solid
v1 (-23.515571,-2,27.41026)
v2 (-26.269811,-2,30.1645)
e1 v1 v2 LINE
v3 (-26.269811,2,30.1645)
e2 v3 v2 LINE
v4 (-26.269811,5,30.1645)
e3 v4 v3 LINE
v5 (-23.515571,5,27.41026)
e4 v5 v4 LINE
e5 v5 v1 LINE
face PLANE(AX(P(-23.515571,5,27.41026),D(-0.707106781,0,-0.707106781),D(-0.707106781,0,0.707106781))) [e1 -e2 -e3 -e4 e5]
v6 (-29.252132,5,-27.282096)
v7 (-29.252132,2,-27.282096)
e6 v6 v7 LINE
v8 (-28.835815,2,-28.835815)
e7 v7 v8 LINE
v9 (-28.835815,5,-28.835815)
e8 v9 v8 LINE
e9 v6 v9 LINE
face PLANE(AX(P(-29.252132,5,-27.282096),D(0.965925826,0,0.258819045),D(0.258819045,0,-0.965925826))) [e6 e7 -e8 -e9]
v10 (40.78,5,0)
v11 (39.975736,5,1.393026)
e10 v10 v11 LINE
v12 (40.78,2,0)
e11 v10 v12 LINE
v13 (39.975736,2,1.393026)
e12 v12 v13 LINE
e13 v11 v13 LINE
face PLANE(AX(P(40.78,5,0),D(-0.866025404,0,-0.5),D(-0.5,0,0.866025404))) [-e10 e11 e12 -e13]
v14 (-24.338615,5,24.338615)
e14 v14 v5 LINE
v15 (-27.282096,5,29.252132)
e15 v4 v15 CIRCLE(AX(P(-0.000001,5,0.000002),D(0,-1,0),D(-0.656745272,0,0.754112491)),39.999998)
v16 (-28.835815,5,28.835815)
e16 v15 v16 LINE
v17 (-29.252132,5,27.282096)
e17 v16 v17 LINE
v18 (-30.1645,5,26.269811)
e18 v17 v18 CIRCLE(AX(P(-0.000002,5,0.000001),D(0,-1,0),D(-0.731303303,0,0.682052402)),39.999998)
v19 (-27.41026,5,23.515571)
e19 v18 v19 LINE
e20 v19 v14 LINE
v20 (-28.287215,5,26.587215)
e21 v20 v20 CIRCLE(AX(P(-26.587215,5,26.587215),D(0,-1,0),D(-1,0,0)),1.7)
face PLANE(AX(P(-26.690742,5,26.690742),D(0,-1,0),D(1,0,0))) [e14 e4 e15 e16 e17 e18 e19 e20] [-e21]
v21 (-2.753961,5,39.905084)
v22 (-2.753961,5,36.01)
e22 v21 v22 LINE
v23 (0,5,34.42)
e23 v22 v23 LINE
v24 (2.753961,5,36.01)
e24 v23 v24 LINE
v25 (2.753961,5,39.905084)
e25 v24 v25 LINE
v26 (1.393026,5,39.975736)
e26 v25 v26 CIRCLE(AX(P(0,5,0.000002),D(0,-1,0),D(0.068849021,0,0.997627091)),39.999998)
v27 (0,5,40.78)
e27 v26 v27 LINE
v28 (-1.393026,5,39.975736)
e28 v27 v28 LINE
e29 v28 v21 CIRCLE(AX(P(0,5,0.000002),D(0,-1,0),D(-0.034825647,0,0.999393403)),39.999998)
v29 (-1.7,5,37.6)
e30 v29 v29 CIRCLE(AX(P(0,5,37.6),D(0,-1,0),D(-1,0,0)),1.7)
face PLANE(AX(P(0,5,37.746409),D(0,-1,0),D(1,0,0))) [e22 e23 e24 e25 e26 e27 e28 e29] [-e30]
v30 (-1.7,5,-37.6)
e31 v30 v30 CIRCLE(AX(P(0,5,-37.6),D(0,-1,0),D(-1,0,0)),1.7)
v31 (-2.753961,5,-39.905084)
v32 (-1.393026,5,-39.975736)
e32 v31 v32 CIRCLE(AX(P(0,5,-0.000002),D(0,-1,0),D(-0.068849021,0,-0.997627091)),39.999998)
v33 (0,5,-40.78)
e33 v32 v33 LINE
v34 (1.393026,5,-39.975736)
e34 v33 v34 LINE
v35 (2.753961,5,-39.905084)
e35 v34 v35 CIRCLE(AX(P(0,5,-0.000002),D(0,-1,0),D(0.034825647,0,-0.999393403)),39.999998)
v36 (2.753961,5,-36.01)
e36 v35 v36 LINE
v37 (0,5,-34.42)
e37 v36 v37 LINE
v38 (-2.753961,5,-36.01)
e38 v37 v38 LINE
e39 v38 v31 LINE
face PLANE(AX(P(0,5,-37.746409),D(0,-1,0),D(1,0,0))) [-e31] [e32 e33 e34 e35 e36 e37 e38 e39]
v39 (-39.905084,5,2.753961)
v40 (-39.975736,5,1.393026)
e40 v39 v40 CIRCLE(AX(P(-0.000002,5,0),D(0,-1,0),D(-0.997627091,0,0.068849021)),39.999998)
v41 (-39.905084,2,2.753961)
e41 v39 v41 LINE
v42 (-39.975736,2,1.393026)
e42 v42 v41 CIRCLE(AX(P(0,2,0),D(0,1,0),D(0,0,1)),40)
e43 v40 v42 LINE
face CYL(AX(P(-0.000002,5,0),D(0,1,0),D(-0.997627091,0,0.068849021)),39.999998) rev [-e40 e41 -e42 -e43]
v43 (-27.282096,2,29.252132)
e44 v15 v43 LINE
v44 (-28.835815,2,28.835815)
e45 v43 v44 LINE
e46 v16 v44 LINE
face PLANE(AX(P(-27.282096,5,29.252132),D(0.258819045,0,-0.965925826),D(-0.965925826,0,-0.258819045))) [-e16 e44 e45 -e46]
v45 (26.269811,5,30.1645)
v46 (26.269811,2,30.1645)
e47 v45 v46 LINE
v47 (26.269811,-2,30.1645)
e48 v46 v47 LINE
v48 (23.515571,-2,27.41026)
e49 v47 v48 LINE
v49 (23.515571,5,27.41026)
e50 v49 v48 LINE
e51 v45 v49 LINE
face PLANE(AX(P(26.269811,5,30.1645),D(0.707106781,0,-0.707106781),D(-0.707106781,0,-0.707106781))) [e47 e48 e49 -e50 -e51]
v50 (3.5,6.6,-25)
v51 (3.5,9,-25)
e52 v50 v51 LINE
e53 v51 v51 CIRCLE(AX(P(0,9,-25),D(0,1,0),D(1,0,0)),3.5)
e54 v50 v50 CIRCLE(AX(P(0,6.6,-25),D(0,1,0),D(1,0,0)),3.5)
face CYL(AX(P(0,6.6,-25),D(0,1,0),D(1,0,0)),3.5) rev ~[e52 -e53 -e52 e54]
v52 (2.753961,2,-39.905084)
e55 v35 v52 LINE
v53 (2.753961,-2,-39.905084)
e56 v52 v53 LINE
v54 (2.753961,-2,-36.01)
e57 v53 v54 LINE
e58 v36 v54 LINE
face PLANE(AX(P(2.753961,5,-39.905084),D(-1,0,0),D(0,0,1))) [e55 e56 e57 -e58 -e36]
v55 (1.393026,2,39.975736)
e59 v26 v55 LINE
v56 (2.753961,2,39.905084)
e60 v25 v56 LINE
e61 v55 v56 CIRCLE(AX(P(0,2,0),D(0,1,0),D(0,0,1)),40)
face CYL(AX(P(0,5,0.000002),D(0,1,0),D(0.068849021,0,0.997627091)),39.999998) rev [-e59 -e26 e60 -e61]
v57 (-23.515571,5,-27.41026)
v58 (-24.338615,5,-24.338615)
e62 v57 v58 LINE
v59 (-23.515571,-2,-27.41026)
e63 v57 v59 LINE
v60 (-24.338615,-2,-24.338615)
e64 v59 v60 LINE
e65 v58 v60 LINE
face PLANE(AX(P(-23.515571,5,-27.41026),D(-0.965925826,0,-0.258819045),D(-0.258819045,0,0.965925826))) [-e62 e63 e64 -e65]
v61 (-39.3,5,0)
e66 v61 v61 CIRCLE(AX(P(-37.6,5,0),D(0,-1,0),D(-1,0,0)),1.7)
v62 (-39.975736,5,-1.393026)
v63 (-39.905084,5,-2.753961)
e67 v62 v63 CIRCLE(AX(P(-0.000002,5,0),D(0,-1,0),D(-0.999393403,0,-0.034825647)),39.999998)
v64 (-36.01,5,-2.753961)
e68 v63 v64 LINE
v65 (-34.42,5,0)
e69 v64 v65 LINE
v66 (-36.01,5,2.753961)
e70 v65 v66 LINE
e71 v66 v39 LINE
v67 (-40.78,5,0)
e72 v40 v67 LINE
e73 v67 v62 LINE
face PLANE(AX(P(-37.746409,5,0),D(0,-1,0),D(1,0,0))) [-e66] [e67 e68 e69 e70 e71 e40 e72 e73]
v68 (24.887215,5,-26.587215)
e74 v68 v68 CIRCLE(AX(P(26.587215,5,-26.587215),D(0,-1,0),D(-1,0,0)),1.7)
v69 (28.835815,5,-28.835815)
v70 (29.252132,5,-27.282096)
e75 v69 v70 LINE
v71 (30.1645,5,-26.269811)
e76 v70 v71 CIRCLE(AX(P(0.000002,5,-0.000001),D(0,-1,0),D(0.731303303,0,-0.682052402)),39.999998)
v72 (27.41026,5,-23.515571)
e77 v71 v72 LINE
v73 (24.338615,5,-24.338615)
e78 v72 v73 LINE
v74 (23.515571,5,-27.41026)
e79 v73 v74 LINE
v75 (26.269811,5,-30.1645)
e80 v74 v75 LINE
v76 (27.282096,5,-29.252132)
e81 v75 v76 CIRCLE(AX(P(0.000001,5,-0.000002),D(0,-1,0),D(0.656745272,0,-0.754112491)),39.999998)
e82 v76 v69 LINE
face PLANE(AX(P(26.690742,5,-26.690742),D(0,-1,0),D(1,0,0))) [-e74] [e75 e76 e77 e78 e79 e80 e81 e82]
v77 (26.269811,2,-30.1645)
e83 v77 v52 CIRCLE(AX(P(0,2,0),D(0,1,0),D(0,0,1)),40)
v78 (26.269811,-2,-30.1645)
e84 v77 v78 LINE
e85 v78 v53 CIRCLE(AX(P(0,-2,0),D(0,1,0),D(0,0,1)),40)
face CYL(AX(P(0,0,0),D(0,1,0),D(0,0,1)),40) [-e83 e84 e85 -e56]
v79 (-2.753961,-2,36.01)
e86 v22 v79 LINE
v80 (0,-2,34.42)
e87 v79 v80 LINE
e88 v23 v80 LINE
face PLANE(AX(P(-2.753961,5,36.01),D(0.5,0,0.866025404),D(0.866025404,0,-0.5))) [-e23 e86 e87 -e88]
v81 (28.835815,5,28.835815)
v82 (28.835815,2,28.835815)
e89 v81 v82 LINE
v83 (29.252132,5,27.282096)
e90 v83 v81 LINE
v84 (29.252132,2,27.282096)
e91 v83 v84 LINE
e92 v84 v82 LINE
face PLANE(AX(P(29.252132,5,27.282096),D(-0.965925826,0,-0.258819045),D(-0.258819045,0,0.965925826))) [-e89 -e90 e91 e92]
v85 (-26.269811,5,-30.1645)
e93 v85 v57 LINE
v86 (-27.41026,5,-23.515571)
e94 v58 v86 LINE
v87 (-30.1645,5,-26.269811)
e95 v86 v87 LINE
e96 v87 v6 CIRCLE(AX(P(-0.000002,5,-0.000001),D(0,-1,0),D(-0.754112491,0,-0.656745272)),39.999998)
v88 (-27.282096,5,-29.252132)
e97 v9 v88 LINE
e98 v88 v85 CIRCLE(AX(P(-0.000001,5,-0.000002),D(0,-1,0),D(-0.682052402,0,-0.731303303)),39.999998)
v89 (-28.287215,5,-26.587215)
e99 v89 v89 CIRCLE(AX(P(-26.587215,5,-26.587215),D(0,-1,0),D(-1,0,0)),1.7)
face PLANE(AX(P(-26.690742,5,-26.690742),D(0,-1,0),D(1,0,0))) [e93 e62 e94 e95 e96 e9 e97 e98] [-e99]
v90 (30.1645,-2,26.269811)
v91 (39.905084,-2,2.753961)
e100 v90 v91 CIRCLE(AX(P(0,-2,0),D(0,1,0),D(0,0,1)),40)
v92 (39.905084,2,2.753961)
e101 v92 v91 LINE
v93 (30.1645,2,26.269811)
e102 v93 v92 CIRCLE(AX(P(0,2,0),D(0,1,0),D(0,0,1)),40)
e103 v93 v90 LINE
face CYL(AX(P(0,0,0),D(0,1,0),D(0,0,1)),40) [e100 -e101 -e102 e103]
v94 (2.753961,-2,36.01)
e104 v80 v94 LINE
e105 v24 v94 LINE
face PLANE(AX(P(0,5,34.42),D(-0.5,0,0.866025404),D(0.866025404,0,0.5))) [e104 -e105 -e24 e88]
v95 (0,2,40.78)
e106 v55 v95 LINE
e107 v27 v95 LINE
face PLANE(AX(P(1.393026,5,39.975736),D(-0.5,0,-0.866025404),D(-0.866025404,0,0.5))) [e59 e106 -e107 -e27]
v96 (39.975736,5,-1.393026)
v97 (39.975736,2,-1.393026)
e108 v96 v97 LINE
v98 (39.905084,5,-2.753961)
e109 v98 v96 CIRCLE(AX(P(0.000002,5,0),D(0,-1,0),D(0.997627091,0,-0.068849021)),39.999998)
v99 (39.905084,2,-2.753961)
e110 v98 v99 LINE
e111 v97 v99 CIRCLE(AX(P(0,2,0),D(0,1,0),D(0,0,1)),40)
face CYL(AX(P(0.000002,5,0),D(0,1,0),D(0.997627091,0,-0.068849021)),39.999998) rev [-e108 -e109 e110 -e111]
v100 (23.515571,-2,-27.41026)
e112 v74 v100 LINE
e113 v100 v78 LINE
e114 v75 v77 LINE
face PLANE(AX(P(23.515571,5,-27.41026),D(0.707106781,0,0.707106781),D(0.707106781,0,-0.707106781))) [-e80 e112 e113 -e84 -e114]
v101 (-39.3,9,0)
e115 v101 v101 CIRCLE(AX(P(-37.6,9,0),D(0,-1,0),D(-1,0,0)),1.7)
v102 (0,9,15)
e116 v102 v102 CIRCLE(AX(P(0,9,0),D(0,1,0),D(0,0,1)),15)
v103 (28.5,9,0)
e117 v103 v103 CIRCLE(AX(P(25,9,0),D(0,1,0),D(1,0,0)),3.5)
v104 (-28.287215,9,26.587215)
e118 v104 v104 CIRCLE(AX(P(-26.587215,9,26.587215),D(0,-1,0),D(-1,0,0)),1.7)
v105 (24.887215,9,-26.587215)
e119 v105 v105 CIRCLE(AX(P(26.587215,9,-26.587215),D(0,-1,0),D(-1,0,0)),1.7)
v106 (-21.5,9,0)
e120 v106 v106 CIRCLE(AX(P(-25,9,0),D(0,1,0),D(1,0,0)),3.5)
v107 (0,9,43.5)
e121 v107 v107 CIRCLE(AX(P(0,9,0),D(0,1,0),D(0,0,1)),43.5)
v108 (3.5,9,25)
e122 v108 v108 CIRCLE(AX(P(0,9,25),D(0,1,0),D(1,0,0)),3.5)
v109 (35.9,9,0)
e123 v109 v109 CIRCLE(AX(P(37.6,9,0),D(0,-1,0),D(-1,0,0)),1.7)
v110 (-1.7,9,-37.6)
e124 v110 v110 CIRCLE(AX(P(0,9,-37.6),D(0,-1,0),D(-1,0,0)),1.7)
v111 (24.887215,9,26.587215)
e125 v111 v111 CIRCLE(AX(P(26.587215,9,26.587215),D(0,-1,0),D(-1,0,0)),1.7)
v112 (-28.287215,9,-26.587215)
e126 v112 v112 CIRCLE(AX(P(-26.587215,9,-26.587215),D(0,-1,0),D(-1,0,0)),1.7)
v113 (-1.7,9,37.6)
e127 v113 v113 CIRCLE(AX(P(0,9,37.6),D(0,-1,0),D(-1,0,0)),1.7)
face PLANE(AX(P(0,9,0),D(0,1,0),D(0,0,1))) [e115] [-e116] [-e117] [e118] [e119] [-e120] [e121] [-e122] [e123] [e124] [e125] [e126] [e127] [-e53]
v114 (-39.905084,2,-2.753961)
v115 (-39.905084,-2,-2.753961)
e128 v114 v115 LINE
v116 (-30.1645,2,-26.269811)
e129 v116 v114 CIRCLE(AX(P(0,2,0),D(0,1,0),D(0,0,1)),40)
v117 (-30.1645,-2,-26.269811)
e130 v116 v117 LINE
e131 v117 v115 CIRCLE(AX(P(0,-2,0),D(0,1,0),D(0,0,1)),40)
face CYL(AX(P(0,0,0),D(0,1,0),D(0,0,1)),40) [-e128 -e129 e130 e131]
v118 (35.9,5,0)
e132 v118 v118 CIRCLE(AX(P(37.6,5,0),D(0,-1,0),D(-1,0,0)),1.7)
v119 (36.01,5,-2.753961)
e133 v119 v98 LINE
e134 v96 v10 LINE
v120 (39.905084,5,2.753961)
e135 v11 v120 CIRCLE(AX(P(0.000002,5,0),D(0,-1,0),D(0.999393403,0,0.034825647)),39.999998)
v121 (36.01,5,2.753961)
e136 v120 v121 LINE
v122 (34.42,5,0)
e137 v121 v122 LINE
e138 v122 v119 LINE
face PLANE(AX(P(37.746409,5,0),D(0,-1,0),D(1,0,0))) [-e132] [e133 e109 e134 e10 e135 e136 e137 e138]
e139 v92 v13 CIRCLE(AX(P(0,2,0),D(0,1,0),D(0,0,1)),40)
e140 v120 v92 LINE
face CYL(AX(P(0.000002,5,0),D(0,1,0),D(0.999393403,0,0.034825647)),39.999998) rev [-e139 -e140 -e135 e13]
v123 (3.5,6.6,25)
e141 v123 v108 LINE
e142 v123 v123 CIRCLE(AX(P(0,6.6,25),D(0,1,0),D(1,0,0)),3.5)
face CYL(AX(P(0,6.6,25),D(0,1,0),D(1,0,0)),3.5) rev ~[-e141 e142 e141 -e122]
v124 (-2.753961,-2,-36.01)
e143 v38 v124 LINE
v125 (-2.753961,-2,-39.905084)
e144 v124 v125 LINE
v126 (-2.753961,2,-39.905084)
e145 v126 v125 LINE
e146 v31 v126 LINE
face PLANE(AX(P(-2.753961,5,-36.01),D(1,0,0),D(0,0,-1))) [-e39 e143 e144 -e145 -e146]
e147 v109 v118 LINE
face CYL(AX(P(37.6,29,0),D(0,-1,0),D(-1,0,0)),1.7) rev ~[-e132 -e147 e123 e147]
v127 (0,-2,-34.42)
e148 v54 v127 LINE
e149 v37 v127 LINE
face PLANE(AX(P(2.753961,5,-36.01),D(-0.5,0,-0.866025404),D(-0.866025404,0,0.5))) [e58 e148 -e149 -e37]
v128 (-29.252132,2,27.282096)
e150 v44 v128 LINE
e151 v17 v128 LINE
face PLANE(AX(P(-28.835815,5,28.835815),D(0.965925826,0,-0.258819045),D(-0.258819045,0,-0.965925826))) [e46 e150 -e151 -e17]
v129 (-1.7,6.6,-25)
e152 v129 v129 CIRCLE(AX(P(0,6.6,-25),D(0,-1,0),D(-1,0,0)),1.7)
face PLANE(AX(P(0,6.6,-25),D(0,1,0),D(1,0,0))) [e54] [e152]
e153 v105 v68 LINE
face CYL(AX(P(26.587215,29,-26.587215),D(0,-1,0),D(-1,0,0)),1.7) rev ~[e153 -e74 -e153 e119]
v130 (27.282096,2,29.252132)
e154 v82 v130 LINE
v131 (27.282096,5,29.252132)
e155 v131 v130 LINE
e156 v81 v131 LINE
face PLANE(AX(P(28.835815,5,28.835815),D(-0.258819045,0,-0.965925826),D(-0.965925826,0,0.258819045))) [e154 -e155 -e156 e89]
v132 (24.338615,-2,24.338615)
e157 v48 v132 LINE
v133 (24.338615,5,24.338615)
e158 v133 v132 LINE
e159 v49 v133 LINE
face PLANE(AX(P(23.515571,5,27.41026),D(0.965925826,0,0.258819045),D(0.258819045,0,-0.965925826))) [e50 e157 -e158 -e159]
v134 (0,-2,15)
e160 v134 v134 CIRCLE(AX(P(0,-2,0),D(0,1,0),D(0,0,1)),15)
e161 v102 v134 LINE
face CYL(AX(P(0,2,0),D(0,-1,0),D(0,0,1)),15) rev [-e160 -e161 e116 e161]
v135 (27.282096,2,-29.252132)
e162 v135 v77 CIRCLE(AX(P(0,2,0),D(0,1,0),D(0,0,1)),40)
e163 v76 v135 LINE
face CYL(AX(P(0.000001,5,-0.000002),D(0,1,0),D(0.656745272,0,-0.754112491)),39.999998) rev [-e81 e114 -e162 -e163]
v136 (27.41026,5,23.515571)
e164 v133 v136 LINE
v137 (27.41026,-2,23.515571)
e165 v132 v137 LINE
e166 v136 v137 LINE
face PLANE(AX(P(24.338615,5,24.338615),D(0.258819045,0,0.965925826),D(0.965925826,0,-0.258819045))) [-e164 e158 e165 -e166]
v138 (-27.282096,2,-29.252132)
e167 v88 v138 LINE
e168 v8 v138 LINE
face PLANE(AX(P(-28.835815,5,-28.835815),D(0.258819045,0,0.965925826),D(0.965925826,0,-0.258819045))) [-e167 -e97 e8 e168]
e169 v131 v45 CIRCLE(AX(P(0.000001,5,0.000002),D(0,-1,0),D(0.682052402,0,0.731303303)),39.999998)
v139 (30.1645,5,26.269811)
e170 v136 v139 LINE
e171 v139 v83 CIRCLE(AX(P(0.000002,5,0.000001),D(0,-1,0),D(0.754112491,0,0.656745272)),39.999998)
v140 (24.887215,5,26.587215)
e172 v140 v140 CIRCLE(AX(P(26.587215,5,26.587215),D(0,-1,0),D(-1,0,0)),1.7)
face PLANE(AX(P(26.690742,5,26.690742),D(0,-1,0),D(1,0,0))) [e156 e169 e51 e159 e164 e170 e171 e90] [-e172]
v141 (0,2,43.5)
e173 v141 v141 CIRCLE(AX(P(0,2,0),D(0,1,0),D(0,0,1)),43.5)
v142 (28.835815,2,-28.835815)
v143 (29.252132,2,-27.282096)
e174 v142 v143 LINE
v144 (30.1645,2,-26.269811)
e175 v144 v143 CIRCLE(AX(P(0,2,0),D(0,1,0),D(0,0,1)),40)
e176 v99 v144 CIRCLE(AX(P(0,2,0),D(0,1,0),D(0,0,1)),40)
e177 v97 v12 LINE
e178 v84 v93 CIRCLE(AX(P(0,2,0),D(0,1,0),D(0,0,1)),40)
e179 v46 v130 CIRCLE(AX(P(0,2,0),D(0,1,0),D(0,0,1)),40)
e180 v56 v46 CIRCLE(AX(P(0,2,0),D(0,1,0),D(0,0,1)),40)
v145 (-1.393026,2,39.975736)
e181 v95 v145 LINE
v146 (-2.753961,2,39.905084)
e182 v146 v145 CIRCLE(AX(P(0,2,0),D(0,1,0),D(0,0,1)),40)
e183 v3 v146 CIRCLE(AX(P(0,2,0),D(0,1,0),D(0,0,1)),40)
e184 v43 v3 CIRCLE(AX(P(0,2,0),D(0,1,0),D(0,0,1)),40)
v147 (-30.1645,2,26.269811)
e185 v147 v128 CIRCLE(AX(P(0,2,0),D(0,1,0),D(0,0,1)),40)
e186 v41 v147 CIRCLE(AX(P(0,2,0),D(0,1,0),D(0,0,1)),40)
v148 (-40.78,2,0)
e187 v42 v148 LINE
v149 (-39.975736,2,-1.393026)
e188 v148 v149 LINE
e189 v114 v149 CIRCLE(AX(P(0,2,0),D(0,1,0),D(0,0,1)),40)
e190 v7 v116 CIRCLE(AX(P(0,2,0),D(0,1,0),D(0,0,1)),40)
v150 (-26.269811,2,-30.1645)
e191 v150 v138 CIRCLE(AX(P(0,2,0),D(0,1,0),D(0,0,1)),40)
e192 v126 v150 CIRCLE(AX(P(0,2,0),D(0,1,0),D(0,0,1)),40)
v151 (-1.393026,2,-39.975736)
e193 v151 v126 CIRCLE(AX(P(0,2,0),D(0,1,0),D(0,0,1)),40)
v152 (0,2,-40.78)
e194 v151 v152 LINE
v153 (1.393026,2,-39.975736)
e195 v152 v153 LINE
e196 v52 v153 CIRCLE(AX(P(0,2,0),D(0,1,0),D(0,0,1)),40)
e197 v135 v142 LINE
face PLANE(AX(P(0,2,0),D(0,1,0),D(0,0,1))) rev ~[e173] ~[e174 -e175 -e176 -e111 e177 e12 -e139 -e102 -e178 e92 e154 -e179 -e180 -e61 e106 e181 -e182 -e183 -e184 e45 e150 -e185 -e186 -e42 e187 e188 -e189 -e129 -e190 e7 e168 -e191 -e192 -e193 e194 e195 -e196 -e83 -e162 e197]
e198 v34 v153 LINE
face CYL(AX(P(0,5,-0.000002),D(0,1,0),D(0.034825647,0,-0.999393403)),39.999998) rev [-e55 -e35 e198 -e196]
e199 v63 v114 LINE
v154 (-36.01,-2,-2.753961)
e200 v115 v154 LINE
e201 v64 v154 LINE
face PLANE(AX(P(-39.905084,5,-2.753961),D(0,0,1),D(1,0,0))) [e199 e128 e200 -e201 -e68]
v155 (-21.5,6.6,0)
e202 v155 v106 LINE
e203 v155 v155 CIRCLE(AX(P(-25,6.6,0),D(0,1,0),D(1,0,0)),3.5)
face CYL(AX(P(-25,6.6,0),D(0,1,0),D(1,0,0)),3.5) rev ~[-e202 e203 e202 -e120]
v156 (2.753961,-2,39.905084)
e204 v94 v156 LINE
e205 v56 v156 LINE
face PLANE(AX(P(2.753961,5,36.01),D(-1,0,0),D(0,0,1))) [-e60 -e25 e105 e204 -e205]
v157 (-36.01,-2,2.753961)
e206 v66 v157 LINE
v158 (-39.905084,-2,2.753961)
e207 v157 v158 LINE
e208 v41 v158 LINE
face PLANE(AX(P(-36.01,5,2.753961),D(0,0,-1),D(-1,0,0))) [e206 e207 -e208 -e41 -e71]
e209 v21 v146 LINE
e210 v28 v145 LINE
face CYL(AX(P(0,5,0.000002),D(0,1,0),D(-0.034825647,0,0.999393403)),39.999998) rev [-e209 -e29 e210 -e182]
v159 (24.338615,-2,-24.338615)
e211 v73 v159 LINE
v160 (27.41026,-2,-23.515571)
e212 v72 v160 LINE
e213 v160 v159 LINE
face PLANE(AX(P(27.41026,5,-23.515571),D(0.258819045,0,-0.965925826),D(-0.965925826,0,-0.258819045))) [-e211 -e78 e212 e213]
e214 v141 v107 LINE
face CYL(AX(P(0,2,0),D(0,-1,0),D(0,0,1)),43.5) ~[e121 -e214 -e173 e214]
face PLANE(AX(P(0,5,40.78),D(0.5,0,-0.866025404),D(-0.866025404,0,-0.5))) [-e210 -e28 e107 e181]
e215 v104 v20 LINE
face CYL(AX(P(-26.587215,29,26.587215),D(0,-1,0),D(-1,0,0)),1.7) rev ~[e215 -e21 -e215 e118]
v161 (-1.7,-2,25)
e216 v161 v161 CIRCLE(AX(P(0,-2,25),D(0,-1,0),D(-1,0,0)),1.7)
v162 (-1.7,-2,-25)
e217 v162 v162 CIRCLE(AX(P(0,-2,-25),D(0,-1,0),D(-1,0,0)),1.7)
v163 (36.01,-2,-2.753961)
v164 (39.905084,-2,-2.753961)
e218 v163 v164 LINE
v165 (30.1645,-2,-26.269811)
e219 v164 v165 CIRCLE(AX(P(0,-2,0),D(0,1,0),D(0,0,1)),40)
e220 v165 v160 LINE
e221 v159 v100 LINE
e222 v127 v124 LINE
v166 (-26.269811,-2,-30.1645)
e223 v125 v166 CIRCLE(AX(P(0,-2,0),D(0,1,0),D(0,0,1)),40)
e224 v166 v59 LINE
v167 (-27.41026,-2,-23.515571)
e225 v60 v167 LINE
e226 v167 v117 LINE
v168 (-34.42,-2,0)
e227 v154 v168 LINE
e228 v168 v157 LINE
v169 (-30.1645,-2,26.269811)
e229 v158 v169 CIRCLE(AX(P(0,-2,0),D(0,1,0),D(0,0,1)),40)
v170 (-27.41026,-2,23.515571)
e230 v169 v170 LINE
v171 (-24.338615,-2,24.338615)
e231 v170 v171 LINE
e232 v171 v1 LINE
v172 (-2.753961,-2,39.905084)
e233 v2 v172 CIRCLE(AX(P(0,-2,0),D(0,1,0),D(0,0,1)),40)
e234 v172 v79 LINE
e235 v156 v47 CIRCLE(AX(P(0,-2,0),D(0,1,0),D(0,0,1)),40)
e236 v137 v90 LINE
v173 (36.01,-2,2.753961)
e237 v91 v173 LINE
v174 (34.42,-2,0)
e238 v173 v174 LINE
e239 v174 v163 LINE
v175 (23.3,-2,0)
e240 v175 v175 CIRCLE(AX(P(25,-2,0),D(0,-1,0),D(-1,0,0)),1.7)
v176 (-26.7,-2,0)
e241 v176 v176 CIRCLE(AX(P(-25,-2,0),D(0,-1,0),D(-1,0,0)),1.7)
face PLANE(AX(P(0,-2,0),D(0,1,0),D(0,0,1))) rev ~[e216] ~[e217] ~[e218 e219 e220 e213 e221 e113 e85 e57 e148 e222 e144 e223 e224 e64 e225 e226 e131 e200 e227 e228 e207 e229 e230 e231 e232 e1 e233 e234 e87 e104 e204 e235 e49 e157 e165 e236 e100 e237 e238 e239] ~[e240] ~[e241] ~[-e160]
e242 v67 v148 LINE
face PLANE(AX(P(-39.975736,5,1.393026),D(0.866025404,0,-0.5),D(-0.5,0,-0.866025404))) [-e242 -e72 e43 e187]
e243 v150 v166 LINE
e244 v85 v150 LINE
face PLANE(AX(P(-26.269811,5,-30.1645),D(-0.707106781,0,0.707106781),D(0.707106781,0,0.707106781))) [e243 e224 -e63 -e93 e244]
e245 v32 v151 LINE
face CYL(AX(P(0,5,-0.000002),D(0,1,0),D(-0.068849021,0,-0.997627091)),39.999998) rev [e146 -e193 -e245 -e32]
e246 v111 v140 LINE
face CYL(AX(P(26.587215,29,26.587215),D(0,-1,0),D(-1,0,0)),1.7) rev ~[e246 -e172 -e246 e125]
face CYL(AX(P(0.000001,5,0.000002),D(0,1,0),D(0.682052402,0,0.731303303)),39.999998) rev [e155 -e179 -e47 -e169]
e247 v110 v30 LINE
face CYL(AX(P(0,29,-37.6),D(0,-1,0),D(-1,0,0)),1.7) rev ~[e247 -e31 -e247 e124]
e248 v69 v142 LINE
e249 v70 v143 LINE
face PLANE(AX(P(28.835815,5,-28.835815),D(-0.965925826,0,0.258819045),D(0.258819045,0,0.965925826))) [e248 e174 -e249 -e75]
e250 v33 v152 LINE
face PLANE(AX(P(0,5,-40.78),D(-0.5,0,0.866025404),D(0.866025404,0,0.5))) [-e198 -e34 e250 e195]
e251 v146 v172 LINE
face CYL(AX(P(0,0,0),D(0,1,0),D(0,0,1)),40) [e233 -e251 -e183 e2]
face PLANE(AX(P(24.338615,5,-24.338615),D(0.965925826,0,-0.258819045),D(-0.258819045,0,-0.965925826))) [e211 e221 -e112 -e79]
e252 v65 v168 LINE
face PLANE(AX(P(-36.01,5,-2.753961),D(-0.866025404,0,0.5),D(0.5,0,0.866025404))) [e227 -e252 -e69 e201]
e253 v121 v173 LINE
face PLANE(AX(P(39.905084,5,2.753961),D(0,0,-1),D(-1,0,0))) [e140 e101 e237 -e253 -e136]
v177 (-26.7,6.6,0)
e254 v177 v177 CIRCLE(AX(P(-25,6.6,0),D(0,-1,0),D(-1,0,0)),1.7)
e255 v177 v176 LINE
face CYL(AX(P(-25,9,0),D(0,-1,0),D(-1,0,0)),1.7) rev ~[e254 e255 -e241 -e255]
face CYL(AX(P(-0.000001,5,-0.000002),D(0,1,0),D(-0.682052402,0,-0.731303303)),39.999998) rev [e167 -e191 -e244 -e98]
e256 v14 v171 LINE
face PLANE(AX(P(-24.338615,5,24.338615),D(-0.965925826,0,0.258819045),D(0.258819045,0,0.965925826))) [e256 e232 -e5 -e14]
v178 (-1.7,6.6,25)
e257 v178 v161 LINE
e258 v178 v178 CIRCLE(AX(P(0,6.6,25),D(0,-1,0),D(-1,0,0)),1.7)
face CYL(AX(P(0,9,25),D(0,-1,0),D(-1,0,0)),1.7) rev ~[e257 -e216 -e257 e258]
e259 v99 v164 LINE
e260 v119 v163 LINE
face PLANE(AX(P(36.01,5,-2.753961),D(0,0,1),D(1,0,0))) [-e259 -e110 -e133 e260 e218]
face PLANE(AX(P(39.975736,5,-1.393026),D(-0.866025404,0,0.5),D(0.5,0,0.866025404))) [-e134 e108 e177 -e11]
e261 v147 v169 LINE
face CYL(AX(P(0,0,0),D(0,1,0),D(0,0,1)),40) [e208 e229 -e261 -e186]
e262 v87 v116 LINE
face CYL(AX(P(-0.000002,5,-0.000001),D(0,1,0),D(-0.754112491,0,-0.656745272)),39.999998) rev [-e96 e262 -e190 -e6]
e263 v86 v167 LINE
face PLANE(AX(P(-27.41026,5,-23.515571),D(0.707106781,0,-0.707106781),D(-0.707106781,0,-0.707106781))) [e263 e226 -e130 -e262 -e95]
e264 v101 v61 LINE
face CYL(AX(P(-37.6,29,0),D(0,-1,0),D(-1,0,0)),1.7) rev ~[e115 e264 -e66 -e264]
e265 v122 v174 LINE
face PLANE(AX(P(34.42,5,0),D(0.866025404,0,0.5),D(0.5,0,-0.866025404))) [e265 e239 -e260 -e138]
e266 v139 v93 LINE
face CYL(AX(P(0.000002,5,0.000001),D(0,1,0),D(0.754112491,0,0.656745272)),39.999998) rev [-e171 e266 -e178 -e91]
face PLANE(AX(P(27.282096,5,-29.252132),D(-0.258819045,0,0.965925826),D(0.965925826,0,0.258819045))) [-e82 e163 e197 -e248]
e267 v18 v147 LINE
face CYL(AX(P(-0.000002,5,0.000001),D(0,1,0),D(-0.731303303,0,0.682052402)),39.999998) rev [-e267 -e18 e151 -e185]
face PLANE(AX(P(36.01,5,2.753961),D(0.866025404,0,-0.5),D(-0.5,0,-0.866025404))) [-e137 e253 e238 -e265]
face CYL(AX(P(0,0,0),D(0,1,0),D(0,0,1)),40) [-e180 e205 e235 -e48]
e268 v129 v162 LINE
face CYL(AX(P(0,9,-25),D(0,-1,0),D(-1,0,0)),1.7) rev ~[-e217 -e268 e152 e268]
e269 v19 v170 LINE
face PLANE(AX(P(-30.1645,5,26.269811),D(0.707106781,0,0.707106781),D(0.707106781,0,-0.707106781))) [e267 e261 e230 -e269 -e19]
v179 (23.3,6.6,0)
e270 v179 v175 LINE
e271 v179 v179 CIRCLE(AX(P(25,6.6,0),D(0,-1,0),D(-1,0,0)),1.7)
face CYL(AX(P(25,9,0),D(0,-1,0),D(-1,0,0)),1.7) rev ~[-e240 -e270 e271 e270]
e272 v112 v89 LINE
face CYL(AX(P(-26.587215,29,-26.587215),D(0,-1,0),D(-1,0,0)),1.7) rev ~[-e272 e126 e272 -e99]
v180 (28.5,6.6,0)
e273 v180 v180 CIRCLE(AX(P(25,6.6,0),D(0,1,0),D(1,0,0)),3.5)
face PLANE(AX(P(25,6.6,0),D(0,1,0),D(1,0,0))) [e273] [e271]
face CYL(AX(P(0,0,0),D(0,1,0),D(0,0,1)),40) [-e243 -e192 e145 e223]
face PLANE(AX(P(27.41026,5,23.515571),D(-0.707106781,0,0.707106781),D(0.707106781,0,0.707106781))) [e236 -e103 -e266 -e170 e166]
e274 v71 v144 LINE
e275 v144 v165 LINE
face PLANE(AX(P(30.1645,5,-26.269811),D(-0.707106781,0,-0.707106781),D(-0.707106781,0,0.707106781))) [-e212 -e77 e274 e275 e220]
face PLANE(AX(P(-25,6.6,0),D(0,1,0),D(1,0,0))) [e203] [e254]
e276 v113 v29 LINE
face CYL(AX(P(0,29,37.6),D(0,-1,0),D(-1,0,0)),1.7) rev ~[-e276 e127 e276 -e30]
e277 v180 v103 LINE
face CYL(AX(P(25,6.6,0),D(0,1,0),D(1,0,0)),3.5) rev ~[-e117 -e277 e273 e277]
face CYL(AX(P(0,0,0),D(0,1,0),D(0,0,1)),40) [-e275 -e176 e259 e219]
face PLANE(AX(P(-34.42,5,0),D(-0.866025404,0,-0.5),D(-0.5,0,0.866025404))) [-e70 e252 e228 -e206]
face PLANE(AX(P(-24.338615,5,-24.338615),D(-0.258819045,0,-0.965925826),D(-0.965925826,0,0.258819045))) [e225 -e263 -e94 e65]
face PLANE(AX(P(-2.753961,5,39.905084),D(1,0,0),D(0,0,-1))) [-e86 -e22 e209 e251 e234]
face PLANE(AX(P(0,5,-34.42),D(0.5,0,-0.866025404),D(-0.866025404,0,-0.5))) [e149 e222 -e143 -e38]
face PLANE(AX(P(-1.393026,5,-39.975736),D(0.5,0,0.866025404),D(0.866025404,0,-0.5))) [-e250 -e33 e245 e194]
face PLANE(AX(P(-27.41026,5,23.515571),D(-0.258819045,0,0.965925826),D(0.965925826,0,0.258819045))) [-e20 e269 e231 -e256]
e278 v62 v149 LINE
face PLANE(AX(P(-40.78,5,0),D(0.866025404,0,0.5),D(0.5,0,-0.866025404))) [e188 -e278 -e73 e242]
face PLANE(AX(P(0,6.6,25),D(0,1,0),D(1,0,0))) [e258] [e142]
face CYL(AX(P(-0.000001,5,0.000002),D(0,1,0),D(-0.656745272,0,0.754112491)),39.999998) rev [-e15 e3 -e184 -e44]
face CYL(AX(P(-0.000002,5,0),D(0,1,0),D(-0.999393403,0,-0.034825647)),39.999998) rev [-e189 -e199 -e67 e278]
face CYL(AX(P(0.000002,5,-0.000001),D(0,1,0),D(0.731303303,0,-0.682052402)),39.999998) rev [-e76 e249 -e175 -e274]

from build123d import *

# Parameters (mm, degrees)
CROQUIS1_R                                           = 40
CROQUIS1_R_2                                         = 15
SALIENTE_EXTRUIR1_DEPTH                              = 2
CROQUIS2_R                                           = 43.5
CROQUIS2_R_2                                         = 15
SALIENTE_EXTRUIR2_DEPTH                              = 7
TALADRO_DE_MARGEN_PARA_M31_D                         = 3.4
TALADRO_DE_MARGEN_PARA_M31_DEPTH                     = 20
TALADRO_DE_MARGEN_PARA_M31_TIP                       = 1.021463052
CORTAR_EXTRUIR1_START                                = -7
CORTAR_EXTRUIR1_DEPTH                                = 7
REFRENTADO_PARA_TORNILLO_CON_CABEZA_TRON_D           = 3.4
REFRENTADO_PARA_TORNILLO_CON_CABEZA_TRON_DEPTH       = 20
REFRENTADO_PARA_TORNILLO_CON_CABEZA_TRON_CBORE_D     = 7
REFRENTADO_PARA_TORNILLO_CON_CABEZA_TRON_CBORE_DEPTH = 2.4
REFRENTADO_PARA_TORNILLO_CON_CABEZA_TRON_TIP         = 1.021463052


with BuildPart() as part:
    # Croquis1 → Saliente-Extruir1 (new, symmetric)
    with BuildSketch(Plane(origin=(0, 0, 0), x_dir=(1, 0, 0), z_dir=(0, 1, 0))):
        with Locations(Location((0, 0, 0), (0, 0, 270))):
            Circle(CROQUIS1_R)
        with Locations(Location((0, 0, 0), (0, 0, 270))):
            Circle(CROQUIS1_R_2, mode=Mode.SUBTRACT)
    extrude(amount=SALIENTE_EXTRUIR1_DEPTH, both=True)

    # Croquis2 → Saliente-Extruir2 (add)
    with BuildSketch(Plane(origin=(0, 2, 0), x_dir=(1, 0, 0), z_dir=(0, 1, 0))):
        with Locations(Location((0, 0, 0), (0, 0, 270))):
            Circle(CROQUIS2_R)
        with Locations(Location((0, 0, 0), (0, 0, 270))):
            Circle(CROQUIS2_R_2, mode=Mode.SUBTRACT)
    extrude(amount=SALIENTE_EXTRUIR2_DEPTH)

    # Taladro de margen para M31
    with Locations(Plane(origin=(0, 9, 0), x_dir=(1, 0, 0), z_dir=(0, 1, 0))):
        with Locations((0, 37.6), (26.587214973, 26.587214973), (37.6, 0), (26.587214973, -26.587214973), (0, -37.6), (-26.587214973, -26.587214973), (-37.6, 0), (-26.587214973, 26.587214973)):
            Hole(TALADRO_DE_MARGEN_PARA_M31_D / 2, depth=TALADRO_DE_MARGEN_PARA_M31_DEPTH)
            with Locations((0, 0, -(TALADRO_DE_MARGEN_PARA_M31_DEPTH + TALADRO_DE_MARGEN_PARA_M31_TIP / 2))):  # 118° drill point
                Cone(0, TALADRO_DE_MARGEN_PARA_M31_D / 2, TALADRO_DE_MARGEN_PARA_M31_TIP, mode=Mode.SUBTRACT)

    # Croquis5 → Cortar-Extruir1 (cut)
    with BuildSketch(Plane.XZ.offset(2).offset(CORTAR_EXTRUIR1_START)):
        with BuildLine():
            Line((-2.753960784, 39.19), (-2.753960784, 36.01))
            Line((-2.753960784, 36.01), (0, 34.42))
            Line((0, 34.42), (2.753960784, 36.01))
            Line((2.753960784, 36.01), (2.753960784, 39.19))
            Line((2.753960784, 39.19), (2.753960784, 39.905083636))
            ThreePointArc((2.753960784, 39.905083636), (2.073794244, 39.946206046), (1.393025891, 39.975736127))
            Line((1.393025891, 39.975736127), (0, 40.78))
            Line((0, 40.78), (-1.393025891, 39.975736127))
            ThreePointArc((-1.393025891, 39.975736127), (-2.073794244, 39.946206046), (-2.753960784, 39.905083636))
            Line((-2.753960784, 39.905083636), (-2.753960784, 39.19))
        make_face()
        with BuildLine():
            Line((25.764170409, 29.6588591), (23.515570845, 27.410259536))
            Line((23.515570845, 27.410259536), (24.338615408, 24.338615408))
            Line((24.338615408, 24.338615408), (27.410259536, 23.515570845))
            Line((27.410259536, 23.515570845), (29.6588591, 25.764170409))
            Line((29.6588591, 25.764170409), (30.164499588, 26.269810897))
            ThreePointArc((30.164499588, 26.269810897), (29.71262715, 26.779839205), (29.252132152, 27.282096044))
            Line((29.252132152, 27.282096044), (28.835814537, 28.835814537))
            Line((28.835814537, 28.835814537), (27.282096044, 29.252132152))
            ThreePointArc((27.282096044, 29.252132152), (26.779839205, 29.71262715), (26.269810897, 30.164499588))
            Line((26.269810897, 30.164499588), (25.764170409, 29.6588591))
        make_face()
        with BuildLine():
            Line((39.19, 2.753960784), (36.01, 2.753960784))
            Line((36.01, 2.753960784), (34.42, 0))
            Line((34.42, 0), (36.01, -2.753960784))
            Line((36.01, -2.753960784), (39.19, -2.753960784))
            Line((39.19, -2.753960784), (39.905083636, -2.753960784))
            ThreePointArc((39.905083636, -2.753960784), (39.946206046, -2.073794244), (39.975736127, -1.393025891))
            Line((39.975736127, -1.393025891), (40.78, 0))
            Line((40.78, 0), (39.975736127, 1.393025891))
            ThreePointArc((39.975736127, 1.393025891), (39.946206046, 2.073794244), (39.905083636, 2.753960784))
            Line((39.905083636, 2.753960784), (39.19, 2.753960784))
        make_face()
        with BuildLine():
            Line((29.6588591, -25.764170409), (27.410259536, -23.515570845))
            Line((27.410259536, -23.515570845), (24.338615408, -24.338615408))
            Line((24.338615408, -24.338615408), (23.515570845, -27.410259536))
            Line((23.515570845, -27.410259536), (25.764170409, -29.6588591))
            Line((25.764170409, -29.6588591), (26.269810897, -30.164499588))
            ThreePointArc((26.269810897, -30.164499588), (26.779839205, -29.71262715), (27.282096044, -29.252132152))
            Line((27.282096044, -29.252132152), (28.835814537, -28.835814537))
            Line((28.835814537, -28.835814537), (29.252132152, -27.282096044))
            ThreePointArc((29.252132152, -27.282096044), (29.71262715, -26.779839205), (30.164499588, -26.269810897))
            Line((30.164499588, -26.269810897), (29.6588591, -25.764170409))
        make_face()
        with BuildLine():
            Line((2.753960784, -39.19), (2.753960784, -36.01))
            Line((2.753960784, -36.01), (0, -34.42))
            Line((0, -34.42), (-2.753960784, -36.01))
            Line((-2.753960784, -36.01), (-2.753960784, -39.19))
            Line((-2.753960784, -39.19), (-2.753960784, -39.905083636))
            ThreePointArc((-2.753960784, -39.905083636), (-2.073794244, -39.946206046), (-1.393025891, -39.975736127))
            Line((-1.393025891, -39.975736127), (0, -40.78))
            Line((0, -40.78), (1.393025891, -39.975736127))
            ThreePointArc((1.393025891, -39.975736127), (2.073794244, -39.946206046), (2.753960784, -39.905083636))
            Line((2.753960784, -39.905083636), (2.753960784, -39.19))
        make_face()
        with BuildLine():
            Line((-25.764170409, -29.6588591), (-23.515570845, -27.410259536))
            Line((-23.515570845, -27.410259536), (-24.338615408, -24.338615408))
            Line((-24.338615408, -24.338615408), (-27.410259536, -23.515570845))
            Line((-27.410259536, -23.515570845), (-29.6588591, -25.764170409))
            Line((-29.6588591, -25.764170409), (-30.164499588, -26.269810897))
            ThreePointArc((-30.164499588, -26.269810897), (-29.71262715, -26.779839205), (-29.252132152, -27.282096044))
            Line((-29.252132152, -27.282096044), (-28.835814537, -28.835814537))
            Line((-28.835814537, -28.835814537), (-27.282096044, -29.252132152))
            ThreePointArc((-27.282096044, -29.252132152), (-26.779839205, -29.71262715), (-26.269810897, -30.164499588))
            Line((-26.269810897, -30.164499588), (-25.764170409, -29.6588591))
        make_face()
        with BuildLine():
            Line((-39.19, -2.753960784), (-36.01, -2.753960784))
            Line((-36.01, -2.753960784), (-34.42, 0))
            Line((-34.42, 0), (-36.01, 2.753960784))
            Line((-36.01, 2.753960784), (-39.19, 2.753960784))
            Line((-39.19, 2.753960784), (-39.905083636, 2.753960784))
            ThreePointArc((-39.905083636, 2.753960784), (-39.946206046, 2.073794244), (-39.975736127, 1.393025891))
            Line((-39.975736127, 1.393025891), (-40.78, 0))
            Line((-40.78, 0), (-39.975736127, -1.393025891))
            ThreePointArc((-39.975736127, -1.393025891), (-39.946206046, -2.073794244), (-39.905083636, -2.753960784))
            Line((-39.905083636, -2.753960784), (-39.19, -2.753960784))
        make_face()
        with BuildLine():
            Line((-29.6588591, 25.764170409), (-27.410259536, 23.515570845))
            Line((-27.410259536, 23.515570845), (-24.338615408, 24.338615408))
            Line((-24.338615408, 24.338615408), (-23.515570845, 27.410259536))
            Line((-23.515570845, 27.410259536), (-25.764170409, 29.6588591))
            Line((-25.764170409, 29.6588591), (-26.269810897, 30.164499588))
            ThreePointArc((-26.269810897, 30.164499588), (-26.779839205, 29.71262715), (-27.282096044, 29.252132152))
            Line((-27.282096044, 29.252132152), (-28.835814537, 28.835814537))
            Line((-28.835814537, 28.835814537), (-29.252132152, 27.282096044))
            ThreePointArc((-29.252132152, 27.282096044), (-29.71262715, 26.779839205), (-30.164499588, 26.269810897))
            Line((-30.164499588, 26.269810897), (-29.6588591, 25.764170409))
        make_face()
    extrude(amount=CORTAR_EXTRUIR1_DEPTH, mode=Mode.SUBTRACT)

    # Refrentado para tornillo con cabeza troncocónica de M32
    with Locations(Plane(origin=(0, 9, 0), x_dir=(1, 0, 0), z_dir=(0, 1, 0))):
        with Locations((0, 25), (25, 0), (0, -25), (-25, 0)):
            CounterBoreHole(REFRENTADO_PARA_TORNILLO_CON_CABEZA_TRON_D / 2, REFRENTADO_PARA_TORNILLO_CON_CABEZA_TRON_CBORE_D / 2, REFRENTADO_PARA_TORNILLO_CON_CABEZA_TRON_CBORE_DEPTH, depth=REFRENTADO_PARA_TORNILLO_CON_CABEZA_TRON_DEPTH)
            with Locations((0, 0, -(REFRENTADO_PARA_TORNILLO_CON_CABEZA_TRON_DEPTH + REFRENTADO_PARA_TORNILLO_CON_CABEZA_TRON_TIP / 2))):  # 118° drill point
                Cone(0, REFRENTADO_PARA_TORNILLO_CON_CABEZA_TRON_D / 2, REFRENTADO_PARA_TORNILLO_CON_CABEZA_TRON_TIP, mode=Mode.SUBTRACT)


solid = part.part
